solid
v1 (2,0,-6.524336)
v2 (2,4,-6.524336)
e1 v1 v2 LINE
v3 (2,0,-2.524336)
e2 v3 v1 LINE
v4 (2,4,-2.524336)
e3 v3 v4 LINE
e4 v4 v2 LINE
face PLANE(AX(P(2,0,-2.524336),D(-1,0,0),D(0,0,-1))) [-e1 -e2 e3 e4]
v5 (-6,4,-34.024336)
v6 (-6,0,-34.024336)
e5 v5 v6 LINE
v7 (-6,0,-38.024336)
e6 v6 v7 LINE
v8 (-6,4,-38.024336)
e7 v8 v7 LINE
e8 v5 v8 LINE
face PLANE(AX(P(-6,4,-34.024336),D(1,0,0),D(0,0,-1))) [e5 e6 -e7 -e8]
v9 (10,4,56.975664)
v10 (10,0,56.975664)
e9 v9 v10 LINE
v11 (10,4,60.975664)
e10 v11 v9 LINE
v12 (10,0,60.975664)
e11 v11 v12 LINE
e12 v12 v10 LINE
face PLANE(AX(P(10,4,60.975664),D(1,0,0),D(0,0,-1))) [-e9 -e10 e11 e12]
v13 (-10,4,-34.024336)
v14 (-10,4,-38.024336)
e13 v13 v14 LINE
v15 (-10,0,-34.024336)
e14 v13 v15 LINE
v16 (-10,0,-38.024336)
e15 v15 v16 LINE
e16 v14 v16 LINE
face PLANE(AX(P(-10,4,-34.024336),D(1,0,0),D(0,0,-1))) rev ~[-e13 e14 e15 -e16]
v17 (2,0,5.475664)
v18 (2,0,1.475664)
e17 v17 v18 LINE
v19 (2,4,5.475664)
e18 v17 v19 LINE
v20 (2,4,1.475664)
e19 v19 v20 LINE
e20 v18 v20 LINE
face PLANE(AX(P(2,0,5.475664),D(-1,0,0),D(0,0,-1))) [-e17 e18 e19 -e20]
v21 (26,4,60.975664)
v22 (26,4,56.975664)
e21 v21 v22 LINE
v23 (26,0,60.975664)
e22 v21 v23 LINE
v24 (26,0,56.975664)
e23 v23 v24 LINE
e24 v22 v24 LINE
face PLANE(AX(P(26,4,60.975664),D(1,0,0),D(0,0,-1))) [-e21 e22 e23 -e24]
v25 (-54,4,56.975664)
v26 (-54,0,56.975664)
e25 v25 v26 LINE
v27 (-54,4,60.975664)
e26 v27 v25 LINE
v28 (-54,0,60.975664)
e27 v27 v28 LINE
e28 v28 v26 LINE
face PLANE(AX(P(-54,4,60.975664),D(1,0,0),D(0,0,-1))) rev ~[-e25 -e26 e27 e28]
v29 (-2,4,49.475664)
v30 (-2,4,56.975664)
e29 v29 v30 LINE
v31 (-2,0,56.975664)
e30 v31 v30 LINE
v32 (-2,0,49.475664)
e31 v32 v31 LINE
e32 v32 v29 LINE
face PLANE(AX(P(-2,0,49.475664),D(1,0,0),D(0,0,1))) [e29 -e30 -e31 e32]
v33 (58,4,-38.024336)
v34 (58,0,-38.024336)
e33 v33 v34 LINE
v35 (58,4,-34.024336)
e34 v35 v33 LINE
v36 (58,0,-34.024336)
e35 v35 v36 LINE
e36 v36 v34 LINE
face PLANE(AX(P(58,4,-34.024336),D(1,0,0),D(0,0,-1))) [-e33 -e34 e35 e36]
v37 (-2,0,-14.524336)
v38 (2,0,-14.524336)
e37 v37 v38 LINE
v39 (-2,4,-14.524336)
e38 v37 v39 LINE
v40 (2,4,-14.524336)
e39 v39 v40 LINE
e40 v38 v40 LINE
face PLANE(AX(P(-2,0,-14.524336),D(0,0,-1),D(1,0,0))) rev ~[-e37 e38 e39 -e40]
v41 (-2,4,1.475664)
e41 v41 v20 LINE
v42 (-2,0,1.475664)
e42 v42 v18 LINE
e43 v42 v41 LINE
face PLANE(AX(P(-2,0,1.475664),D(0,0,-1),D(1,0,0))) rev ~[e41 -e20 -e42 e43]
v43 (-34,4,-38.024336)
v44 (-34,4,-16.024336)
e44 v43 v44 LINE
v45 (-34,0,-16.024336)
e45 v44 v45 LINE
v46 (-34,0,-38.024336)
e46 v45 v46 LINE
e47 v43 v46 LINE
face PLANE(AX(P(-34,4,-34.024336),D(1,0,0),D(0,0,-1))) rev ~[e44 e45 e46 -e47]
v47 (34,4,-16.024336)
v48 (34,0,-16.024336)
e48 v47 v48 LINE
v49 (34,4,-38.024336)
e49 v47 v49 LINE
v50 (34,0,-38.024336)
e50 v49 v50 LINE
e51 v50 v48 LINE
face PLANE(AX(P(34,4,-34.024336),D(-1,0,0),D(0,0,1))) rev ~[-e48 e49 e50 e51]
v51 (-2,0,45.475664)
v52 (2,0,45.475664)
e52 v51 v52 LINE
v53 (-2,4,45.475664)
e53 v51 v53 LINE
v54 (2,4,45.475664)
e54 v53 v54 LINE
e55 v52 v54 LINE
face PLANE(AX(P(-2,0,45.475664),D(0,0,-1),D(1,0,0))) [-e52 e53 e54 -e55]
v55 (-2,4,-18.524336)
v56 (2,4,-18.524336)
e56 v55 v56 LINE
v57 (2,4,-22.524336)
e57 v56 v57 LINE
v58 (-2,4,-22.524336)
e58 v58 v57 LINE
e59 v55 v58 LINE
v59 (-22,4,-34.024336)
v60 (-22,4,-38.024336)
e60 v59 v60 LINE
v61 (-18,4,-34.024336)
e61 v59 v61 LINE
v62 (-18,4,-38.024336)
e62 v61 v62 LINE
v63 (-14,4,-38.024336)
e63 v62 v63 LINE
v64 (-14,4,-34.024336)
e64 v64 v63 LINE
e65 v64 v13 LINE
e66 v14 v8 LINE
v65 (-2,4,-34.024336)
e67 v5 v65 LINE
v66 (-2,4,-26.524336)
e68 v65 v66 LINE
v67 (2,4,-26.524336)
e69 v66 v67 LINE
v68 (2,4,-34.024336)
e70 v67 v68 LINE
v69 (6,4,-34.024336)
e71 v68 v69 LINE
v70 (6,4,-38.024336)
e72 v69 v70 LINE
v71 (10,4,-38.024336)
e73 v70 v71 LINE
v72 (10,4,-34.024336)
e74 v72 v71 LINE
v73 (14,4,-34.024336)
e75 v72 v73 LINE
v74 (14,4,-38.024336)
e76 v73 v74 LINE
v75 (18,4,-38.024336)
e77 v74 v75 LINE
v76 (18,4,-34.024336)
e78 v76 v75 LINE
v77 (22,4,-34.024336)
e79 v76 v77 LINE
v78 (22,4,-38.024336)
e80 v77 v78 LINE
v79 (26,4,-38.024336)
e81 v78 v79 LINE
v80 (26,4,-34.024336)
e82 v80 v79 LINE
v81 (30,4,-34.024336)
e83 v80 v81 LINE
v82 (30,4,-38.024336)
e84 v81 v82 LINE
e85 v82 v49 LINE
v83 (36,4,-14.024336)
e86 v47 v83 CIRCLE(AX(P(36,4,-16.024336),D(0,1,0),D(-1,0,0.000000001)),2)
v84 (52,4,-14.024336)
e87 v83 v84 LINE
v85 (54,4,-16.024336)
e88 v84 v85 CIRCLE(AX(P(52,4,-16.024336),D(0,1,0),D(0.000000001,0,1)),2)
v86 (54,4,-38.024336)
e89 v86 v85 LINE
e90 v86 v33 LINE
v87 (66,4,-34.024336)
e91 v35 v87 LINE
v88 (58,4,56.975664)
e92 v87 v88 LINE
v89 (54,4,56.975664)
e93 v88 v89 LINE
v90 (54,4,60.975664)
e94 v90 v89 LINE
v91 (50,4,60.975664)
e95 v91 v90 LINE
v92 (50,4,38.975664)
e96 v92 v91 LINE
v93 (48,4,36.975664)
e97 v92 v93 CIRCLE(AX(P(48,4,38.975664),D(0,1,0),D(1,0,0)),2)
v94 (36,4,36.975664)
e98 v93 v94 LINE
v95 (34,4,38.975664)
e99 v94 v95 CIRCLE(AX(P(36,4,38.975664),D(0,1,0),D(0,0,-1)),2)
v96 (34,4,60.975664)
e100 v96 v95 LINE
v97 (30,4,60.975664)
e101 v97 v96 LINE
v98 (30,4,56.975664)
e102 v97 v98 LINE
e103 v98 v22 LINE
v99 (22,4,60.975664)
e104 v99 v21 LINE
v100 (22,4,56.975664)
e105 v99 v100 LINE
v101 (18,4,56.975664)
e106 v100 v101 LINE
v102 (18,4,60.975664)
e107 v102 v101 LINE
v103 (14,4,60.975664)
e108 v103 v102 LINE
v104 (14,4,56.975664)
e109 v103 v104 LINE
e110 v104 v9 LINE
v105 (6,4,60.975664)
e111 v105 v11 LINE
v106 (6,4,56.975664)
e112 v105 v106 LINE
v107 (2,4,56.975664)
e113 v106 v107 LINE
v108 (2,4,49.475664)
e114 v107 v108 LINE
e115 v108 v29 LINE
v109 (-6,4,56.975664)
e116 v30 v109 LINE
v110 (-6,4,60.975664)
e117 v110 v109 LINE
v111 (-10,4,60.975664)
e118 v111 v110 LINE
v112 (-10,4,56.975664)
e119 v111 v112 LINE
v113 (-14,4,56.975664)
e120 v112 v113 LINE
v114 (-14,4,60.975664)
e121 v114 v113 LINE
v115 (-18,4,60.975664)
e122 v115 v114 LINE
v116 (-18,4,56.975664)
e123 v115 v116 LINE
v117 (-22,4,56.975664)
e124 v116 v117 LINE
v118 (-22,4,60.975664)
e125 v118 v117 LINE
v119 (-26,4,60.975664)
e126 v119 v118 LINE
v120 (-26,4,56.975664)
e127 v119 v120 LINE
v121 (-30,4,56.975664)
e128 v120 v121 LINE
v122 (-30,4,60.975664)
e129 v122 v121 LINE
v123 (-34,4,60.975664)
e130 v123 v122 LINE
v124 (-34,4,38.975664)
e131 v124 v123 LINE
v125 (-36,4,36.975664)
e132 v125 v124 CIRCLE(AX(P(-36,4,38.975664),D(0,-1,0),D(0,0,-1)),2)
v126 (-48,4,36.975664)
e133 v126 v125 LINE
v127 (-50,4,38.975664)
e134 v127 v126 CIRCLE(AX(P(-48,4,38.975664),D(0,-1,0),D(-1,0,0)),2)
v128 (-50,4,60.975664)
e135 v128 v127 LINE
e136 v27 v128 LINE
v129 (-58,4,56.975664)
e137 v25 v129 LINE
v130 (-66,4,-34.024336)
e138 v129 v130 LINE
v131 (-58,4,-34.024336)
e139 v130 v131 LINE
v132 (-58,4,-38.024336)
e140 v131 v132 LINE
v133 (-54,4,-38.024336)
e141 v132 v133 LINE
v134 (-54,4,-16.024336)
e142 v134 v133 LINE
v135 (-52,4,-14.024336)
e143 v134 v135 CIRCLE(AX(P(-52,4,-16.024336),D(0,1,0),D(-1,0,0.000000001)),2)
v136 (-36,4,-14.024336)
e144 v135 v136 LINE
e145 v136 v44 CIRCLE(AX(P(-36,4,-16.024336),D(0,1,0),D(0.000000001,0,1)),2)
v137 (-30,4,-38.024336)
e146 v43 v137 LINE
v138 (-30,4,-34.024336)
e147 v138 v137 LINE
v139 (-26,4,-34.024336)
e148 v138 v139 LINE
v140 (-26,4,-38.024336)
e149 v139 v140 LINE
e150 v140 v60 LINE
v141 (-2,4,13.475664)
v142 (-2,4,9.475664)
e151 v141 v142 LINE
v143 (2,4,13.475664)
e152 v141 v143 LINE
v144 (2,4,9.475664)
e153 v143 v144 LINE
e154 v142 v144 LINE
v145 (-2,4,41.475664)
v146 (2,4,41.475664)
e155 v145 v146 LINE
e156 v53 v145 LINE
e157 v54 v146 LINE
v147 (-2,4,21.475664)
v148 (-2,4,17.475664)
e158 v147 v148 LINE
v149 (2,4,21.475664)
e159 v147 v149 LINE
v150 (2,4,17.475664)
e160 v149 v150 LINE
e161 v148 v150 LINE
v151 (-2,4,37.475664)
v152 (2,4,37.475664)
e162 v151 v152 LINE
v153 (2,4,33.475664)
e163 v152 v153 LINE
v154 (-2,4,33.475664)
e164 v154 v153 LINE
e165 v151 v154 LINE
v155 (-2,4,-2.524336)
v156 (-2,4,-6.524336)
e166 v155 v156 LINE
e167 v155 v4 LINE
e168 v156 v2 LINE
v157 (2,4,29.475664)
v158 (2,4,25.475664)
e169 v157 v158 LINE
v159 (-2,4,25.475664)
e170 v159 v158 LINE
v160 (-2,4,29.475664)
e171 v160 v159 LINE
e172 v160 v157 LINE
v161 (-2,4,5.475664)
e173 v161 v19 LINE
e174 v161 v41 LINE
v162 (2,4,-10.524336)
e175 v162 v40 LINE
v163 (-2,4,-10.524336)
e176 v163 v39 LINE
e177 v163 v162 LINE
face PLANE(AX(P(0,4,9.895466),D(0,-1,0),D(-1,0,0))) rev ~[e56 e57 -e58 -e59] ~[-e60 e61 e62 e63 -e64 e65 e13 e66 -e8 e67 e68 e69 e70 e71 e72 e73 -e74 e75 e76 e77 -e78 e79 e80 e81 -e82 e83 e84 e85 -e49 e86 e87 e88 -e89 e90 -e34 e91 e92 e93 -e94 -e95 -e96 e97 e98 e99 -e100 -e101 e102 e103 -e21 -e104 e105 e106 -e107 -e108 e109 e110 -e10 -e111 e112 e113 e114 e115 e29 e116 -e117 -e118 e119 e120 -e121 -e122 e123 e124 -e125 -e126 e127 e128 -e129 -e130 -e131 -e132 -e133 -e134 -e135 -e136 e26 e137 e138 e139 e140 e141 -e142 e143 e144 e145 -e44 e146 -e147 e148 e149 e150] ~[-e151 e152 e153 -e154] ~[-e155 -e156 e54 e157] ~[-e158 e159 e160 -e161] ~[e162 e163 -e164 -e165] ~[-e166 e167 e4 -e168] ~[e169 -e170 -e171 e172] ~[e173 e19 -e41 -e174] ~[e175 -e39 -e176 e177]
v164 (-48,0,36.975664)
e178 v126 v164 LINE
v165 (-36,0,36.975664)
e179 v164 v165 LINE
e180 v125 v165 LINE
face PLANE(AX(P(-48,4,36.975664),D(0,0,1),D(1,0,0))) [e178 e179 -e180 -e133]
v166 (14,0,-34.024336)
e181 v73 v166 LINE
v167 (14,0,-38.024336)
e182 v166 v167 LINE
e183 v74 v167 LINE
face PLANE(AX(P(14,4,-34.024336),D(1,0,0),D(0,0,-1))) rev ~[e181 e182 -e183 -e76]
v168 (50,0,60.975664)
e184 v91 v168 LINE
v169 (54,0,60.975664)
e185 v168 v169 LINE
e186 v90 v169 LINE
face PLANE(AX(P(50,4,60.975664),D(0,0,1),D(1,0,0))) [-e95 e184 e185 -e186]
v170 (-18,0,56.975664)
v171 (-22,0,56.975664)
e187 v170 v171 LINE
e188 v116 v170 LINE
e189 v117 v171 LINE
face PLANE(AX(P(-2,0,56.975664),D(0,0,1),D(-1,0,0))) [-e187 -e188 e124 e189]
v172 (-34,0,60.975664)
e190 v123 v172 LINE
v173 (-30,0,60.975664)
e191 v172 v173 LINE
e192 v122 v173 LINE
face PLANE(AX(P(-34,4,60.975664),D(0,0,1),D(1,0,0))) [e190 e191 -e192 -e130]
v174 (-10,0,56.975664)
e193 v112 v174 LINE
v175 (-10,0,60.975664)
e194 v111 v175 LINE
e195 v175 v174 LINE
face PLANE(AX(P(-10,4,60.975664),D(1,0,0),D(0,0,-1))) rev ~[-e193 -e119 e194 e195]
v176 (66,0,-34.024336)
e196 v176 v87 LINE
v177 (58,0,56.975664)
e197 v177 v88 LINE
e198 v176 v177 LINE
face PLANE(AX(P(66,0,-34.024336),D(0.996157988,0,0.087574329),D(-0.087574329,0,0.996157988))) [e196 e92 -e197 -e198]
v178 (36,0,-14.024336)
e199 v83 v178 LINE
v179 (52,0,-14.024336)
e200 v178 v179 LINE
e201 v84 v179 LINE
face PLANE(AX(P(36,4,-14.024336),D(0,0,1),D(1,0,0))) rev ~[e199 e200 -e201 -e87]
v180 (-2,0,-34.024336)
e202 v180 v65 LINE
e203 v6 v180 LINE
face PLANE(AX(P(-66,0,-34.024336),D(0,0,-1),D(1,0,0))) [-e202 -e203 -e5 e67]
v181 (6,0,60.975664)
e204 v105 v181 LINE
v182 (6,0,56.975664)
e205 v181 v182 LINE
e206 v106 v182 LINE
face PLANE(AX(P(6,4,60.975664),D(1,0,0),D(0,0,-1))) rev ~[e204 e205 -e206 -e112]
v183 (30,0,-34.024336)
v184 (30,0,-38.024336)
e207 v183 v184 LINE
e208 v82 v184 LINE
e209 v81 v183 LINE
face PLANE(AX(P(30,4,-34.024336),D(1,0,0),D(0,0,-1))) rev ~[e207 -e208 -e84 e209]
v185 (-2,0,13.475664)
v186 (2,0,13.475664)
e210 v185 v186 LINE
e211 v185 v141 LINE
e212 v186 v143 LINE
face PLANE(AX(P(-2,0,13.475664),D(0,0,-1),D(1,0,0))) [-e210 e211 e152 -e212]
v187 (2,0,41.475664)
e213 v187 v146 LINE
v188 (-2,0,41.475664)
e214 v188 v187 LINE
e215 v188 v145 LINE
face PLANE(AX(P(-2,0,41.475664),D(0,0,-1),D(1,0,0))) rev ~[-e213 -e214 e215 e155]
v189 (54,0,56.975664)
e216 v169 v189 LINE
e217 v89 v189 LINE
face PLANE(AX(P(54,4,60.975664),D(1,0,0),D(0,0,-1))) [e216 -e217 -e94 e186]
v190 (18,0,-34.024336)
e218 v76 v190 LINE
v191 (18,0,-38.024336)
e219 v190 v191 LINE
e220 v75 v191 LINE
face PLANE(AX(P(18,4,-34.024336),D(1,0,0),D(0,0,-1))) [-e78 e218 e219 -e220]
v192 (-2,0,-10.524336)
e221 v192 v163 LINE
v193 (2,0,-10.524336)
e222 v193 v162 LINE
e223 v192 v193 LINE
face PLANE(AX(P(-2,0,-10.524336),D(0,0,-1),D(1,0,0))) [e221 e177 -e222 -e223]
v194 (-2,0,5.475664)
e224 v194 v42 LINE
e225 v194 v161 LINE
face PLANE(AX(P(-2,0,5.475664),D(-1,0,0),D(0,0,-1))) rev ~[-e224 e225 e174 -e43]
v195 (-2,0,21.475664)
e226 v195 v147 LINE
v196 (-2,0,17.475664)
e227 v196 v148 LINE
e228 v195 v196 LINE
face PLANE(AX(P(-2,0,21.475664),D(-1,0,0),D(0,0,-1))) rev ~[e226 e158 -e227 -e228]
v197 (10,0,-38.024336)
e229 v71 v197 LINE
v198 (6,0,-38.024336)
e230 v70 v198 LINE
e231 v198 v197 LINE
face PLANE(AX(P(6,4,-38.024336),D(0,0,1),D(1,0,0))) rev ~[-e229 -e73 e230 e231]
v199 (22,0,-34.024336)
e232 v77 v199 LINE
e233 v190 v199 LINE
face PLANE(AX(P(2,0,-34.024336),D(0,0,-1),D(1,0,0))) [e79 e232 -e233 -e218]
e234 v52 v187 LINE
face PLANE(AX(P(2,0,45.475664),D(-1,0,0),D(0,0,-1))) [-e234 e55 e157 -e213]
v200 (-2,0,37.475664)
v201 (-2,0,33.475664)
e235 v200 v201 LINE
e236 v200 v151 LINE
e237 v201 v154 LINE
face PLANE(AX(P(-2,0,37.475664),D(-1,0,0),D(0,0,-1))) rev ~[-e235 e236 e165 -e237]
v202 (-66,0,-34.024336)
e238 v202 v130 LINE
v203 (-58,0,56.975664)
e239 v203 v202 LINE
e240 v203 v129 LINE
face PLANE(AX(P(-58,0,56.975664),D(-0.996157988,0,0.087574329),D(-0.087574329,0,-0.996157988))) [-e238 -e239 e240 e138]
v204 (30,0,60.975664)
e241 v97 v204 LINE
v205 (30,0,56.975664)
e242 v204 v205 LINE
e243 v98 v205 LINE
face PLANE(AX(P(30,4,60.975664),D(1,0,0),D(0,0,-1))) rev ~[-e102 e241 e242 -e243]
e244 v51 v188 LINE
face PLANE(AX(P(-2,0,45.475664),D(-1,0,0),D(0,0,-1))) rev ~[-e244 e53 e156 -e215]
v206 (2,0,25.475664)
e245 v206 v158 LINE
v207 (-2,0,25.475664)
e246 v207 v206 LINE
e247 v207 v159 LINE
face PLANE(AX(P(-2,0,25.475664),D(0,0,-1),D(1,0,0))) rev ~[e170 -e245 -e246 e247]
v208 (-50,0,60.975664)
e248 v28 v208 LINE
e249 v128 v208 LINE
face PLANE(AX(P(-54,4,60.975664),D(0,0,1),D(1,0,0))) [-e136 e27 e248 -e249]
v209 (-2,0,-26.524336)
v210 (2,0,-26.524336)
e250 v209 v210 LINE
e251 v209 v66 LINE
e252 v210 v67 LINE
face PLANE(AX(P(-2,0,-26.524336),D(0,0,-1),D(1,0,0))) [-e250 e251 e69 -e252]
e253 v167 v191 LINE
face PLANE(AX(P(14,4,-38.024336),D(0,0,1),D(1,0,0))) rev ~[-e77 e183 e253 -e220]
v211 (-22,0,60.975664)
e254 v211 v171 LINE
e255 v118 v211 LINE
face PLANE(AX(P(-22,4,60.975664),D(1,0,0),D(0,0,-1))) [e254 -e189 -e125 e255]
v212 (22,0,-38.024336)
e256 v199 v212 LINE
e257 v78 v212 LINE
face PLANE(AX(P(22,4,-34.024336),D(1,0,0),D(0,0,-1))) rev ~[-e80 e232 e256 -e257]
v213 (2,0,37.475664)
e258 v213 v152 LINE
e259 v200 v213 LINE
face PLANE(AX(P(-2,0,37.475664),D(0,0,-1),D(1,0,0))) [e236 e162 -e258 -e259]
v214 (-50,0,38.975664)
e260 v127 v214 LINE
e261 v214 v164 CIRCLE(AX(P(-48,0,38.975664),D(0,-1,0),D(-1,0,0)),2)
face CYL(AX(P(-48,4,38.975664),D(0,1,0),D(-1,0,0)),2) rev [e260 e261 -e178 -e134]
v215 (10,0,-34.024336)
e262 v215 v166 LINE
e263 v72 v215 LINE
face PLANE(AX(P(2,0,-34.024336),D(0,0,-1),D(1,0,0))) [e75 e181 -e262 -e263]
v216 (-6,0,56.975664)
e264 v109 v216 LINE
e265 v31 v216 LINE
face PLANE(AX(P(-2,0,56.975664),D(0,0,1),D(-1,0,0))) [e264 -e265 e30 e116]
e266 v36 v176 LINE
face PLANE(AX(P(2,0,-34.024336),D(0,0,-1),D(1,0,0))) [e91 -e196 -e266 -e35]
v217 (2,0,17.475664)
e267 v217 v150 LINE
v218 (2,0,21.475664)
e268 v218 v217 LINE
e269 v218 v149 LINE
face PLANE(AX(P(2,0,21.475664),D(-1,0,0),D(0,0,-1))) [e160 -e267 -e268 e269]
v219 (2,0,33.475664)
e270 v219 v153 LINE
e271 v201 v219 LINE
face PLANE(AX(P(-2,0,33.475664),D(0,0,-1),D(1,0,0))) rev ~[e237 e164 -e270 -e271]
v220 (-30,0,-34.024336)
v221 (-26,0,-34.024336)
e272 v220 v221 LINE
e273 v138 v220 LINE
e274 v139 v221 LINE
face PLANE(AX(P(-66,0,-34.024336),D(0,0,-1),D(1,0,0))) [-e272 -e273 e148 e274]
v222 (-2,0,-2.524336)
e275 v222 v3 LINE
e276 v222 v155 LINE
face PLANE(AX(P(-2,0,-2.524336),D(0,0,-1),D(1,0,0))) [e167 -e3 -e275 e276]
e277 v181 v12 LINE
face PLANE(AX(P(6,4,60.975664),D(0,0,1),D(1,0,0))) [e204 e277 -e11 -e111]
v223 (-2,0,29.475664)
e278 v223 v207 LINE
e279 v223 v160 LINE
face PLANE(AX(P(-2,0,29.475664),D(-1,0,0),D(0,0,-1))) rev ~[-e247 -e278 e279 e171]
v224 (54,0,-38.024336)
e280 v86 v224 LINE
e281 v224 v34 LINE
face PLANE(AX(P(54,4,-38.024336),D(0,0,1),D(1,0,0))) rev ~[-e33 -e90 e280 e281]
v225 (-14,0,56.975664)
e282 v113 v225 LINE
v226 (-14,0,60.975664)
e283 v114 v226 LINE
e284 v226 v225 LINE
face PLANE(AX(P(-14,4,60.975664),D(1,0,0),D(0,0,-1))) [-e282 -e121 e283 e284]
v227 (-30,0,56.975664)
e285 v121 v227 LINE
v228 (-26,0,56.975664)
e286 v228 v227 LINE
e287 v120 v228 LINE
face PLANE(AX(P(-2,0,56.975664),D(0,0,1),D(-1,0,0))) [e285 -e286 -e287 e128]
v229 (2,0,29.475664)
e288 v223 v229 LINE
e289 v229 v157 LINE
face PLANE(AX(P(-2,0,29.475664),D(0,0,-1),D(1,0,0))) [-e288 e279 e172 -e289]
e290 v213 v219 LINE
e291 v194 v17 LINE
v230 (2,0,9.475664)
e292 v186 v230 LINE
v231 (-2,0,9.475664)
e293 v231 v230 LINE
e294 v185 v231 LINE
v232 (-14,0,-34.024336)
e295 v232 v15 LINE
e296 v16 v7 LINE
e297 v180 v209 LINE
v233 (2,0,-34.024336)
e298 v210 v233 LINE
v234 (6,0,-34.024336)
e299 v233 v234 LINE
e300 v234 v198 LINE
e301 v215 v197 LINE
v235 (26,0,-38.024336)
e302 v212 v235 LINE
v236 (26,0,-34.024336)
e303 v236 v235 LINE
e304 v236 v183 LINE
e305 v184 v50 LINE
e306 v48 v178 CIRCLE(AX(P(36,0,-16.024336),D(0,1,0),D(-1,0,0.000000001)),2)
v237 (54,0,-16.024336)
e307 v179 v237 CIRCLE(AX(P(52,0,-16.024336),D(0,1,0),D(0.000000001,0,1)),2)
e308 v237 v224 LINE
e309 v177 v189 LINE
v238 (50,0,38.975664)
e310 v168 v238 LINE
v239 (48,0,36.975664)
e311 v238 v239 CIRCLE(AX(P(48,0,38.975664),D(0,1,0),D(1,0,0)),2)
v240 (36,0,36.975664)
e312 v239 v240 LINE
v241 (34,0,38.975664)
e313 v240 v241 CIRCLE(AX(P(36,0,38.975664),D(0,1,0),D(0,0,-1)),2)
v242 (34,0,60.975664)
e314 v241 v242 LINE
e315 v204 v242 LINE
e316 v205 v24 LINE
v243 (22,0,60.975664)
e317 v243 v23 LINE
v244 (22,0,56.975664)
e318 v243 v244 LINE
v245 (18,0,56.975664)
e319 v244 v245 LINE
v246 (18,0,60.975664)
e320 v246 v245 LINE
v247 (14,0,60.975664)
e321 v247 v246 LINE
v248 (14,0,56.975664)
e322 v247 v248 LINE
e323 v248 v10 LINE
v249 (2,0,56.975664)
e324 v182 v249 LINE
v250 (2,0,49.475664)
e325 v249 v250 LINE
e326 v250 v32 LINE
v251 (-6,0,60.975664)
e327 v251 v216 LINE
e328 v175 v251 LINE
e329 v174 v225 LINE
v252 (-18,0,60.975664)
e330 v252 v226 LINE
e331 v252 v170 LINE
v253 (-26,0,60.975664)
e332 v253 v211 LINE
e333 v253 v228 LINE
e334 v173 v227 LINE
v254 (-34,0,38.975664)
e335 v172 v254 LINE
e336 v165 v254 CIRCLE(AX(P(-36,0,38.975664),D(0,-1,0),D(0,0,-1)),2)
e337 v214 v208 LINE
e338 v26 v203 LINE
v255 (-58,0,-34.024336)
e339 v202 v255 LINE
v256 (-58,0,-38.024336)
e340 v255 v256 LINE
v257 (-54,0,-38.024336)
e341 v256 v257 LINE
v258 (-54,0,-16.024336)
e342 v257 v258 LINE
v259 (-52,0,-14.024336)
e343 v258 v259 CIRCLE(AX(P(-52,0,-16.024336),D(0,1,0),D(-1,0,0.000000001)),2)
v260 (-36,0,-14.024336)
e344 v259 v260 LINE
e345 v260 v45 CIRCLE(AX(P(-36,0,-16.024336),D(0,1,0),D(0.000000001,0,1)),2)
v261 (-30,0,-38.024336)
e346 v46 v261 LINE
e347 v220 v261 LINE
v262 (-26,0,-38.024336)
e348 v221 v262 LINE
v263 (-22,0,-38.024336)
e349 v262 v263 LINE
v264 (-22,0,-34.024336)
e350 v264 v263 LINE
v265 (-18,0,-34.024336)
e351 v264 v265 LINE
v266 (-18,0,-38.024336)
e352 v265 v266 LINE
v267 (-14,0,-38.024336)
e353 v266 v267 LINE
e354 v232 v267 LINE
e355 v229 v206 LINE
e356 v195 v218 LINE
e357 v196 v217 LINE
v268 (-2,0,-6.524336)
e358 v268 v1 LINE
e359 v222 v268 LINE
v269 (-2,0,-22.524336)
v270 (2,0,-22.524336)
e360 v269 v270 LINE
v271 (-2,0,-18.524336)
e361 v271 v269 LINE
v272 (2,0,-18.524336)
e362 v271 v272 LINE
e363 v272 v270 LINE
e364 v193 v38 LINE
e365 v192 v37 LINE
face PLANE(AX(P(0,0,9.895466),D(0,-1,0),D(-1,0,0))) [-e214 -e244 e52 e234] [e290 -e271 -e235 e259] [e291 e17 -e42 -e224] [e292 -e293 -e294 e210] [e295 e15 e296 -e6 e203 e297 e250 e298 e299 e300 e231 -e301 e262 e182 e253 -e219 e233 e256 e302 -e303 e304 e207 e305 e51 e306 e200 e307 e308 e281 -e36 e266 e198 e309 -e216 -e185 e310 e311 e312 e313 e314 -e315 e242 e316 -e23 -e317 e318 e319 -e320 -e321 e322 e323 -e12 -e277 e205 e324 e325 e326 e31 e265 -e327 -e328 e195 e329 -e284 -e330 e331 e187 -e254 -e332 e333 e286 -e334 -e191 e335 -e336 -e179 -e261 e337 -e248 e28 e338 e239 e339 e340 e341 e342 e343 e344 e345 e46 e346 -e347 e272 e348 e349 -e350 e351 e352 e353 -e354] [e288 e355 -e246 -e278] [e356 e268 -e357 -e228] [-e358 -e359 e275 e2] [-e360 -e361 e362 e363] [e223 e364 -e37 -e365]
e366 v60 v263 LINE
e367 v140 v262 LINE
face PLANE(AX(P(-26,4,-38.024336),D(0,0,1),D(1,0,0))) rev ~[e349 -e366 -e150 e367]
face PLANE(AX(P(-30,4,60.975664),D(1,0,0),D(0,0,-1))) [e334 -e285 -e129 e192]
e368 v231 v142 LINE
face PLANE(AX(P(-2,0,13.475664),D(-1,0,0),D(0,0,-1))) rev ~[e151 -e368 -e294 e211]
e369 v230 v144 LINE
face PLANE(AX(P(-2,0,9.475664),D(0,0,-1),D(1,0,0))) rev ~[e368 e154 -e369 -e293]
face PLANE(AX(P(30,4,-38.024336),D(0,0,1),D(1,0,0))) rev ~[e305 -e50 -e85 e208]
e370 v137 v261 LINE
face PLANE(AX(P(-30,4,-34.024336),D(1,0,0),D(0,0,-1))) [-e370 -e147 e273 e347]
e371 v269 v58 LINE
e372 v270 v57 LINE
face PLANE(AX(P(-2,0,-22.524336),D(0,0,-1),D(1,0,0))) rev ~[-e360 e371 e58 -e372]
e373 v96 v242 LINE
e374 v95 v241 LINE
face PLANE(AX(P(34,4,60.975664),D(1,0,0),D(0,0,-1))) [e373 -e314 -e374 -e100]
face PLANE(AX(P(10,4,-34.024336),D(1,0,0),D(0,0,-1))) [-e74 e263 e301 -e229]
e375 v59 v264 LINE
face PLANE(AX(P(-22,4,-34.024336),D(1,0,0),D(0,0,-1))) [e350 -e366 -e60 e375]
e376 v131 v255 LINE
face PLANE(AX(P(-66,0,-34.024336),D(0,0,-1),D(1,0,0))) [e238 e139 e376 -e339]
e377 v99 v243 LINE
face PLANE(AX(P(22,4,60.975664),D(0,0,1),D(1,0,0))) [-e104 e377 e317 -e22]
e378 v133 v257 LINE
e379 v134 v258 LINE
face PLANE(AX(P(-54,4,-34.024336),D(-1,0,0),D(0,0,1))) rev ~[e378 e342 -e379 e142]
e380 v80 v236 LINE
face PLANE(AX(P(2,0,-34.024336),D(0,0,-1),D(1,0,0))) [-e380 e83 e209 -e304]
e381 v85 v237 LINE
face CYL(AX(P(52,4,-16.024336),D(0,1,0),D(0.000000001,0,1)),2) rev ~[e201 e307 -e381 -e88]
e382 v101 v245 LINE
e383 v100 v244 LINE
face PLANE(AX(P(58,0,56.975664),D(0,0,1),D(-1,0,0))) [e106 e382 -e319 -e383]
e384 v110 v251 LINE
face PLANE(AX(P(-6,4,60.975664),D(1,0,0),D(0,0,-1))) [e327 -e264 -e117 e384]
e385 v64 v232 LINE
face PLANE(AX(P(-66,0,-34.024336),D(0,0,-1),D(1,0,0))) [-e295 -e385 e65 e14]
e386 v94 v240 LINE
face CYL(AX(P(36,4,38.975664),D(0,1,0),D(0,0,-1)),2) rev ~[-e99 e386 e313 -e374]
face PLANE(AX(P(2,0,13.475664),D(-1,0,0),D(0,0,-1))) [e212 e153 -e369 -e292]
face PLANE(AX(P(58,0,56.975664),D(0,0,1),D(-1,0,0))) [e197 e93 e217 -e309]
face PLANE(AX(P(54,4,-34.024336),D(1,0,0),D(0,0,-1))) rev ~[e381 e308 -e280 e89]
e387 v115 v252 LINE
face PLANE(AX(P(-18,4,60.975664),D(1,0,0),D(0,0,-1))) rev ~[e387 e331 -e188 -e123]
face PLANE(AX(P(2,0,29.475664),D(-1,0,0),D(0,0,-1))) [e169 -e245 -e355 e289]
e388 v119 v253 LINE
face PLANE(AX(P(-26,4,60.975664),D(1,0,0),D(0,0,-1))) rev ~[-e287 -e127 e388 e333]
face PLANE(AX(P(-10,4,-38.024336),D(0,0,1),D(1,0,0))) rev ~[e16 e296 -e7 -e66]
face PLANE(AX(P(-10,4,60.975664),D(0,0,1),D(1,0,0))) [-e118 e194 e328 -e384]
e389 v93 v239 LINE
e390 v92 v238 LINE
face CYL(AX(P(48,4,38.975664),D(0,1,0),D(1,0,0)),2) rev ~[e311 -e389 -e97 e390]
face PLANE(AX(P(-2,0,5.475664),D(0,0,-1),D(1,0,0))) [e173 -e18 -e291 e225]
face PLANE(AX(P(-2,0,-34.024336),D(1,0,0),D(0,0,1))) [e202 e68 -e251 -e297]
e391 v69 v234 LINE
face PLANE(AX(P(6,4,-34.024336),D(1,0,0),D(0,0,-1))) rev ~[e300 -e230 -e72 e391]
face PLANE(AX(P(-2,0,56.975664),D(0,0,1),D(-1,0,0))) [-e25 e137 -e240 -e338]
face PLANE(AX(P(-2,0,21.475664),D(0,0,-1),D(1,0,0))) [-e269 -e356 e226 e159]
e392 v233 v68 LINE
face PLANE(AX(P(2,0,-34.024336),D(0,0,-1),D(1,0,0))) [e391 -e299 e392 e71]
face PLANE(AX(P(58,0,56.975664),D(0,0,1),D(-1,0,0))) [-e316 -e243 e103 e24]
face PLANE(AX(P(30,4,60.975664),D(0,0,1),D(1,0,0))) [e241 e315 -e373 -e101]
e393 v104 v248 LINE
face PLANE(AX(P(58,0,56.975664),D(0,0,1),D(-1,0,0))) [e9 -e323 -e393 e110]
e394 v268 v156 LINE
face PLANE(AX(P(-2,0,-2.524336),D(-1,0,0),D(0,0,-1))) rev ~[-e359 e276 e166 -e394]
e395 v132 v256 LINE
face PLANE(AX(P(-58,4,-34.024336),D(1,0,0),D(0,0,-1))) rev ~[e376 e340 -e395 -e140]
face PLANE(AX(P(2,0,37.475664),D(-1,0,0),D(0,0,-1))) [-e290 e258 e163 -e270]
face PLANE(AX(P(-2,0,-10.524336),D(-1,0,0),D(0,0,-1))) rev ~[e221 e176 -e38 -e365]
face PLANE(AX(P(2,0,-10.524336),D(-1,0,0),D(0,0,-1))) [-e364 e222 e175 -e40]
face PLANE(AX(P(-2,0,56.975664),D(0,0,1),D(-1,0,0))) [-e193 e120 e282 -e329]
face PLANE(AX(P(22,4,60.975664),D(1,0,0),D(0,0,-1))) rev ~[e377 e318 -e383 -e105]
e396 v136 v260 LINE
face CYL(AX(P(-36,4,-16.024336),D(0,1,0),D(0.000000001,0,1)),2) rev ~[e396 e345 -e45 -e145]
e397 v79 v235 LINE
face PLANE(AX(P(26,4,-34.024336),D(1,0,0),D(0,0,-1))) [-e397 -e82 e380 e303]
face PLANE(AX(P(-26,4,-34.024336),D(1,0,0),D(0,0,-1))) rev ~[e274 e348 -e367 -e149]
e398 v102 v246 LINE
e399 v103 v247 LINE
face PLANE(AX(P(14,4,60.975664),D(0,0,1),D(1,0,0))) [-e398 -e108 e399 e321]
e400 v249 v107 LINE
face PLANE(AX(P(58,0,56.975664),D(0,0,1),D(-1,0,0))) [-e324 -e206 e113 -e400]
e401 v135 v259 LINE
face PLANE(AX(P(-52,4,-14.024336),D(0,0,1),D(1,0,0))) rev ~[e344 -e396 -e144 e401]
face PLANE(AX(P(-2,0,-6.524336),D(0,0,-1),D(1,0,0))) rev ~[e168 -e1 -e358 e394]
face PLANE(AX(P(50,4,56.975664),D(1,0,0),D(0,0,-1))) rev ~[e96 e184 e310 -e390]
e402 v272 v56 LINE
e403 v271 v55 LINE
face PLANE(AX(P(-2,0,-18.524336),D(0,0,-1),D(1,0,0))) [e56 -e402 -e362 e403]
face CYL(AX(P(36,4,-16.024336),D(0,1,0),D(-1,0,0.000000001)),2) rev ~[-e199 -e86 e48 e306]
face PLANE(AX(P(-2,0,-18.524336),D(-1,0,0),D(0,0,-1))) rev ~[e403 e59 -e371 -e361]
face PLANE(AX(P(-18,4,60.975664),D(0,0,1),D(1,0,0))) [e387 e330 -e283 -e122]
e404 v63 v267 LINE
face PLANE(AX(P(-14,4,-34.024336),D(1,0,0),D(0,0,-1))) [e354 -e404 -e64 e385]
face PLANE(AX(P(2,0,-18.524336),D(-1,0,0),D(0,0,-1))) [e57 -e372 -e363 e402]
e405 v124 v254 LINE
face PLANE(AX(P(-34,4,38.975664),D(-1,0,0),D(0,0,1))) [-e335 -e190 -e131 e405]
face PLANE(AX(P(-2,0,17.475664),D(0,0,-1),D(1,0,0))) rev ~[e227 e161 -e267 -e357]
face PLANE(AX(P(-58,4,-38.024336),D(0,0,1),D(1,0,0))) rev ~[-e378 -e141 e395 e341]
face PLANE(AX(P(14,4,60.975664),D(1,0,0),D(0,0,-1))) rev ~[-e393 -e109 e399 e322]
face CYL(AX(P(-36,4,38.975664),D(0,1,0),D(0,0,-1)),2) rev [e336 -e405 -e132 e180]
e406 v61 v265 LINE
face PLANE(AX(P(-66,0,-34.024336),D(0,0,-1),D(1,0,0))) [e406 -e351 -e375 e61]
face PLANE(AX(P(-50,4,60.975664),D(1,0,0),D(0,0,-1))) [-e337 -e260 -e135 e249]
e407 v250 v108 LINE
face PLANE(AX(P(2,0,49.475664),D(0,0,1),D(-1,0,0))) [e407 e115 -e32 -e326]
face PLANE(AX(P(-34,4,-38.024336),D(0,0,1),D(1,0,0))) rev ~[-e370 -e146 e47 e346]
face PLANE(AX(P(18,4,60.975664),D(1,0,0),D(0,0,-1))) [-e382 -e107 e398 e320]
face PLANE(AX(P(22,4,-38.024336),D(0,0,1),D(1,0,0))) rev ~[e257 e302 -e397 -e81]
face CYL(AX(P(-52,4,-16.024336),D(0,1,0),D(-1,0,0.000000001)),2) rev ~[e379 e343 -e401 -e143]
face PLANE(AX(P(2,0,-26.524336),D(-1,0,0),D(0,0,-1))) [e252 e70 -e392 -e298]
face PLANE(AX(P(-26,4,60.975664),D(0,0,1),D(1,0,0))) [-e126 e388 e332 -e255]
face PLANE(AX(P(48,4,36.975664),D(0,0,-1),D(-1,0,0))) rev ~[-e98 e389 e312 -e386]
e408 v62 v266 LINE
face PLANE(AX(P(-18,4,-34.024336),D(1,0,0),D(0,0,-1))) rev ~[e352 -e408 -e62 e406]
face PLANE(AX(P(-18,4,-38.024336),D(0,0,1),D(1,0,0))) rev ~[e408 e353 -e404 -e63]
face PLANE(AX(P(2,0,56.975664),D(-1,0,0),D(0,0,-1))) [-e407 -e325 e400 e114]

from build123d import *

# Parameters (mm, degrees)
SKETCH1_W           = 4
SKETCH1_H           = 4
BOSS_EXTRUDE1_DEPTH = 4
SKETCH2_W           = 4
SKETCH2_H           = 4
BOSS_EXTRUDE2_DEPTH = 4
CUT_EXTRUDE2_DEPTH  = 4


with BuildPart() as part:
    # Sketch1 → Boss-Extrude1 (new body)
    with BuildSketch(Plane(origin=(0, 0, 0), x_dir=(1, 0, 0), z_dir=(0, 1, 0))):
        Polygon((-66, 34.024336283), (-2, 34.024336283), (-2, 26.524336283), (2, 26.524336283), (2, 34.024336283), (66, 34.024336283), (58, -56.975663717), (2, -56.975663717), (2, -49.475663717), (-2, -49.475663717), (-2, -56.975663717), (-58, -56.975663717), align=None)
        with Locations((0, -3.475663717)):
            Rectangle(SKETCH1_W, SKETCH1_H, mode=Mode.SUBTRACT)
        with Locations((0, -11.475663717)):
            Rectangle(SKETCH1_W, SKETCH1_H, mode=Mode.SUBTRACT)
        with Locations((0, 4.524336283)):
            Rectangle(SKETCH1_W, SKETCH1_H, mode=Mode.SUBTRACT)
        with Locations((0, 12.524336283)):
            Rectangle(SKETCH1_W, SKETCH1_H, mode=Mode.SUBTRACT)
        with Locations((0, 20.524336283)):
            Rectangle(SKETCH1_W, SKETCH1_H, mode=Mode.SUBTRACT)
        with Locations((0, -19.475663717)):
            Rectangle(SKETCH1_W, SKETCH1_H, mode=Mode.SUBTRACT)
        with Locations((0, -27.475663717)):
            Rectangle(SKETCH1_W, SKETCH1_H, mode=Mode.SUBTRACT)
        with Locations((0, -35.475663717)):
            Rectangle(SKETCH1_W, SKETCH1_H, mode=Mode.SUBTRACT)
        with Locations((0, -43.475663717)):
            Rectangle(SKETCH1_W, SKETCH1_H, mode=Mode.SUBTRACT)
    extrude(amount=BOSS_EXTRUDE1_DEPTH)

    # Sketch2 → Boss-Extrude2 (add)
    with BuildSketch(Plane(origin=(0, 4, 0), x_dir=(1, 0, 0), z_dir=(0, 1, 0))):
        with Locations((-8, 36.024336283)):
            Rectangle(SKETCH2_W, SKETCH2_H)
        with Locations((-16, 36.024336283)):
            Rectangle(SKETCH2_W, SKETCH2_H)
        with Locations((-24, 36.024336283)):
            Rectangle(SKETCH2_W, SKETCH2_H)
        with Locations((-32, 36.024336283)):
            Rectangle(SKETCH2_W, SKETCH2_H)
        with Locations((56, 36.024336283)):
            Rectangle(SKETCH2_W, SKETCH2_H)
        with Locations((32, 36.024336283)):
            Rectangle(SKETCH2_W, SKETCH2_H)
        with Locations((-56, 36.024336283)):
            Rectangle(SKETCH2_W, SKETCH2_H)
        with Locations((24, 36.024336283)):
            Rectangle(SKETCH2_W, SKETCH2_H)
        with Locations((16, 36.024336283)):
            Rectangle(SKETCH2_W, SKETCH2_H)
        with Locations((8, 36.024336283)):
            Rectangle(SKETCH2_W, SKETCH2_H)
        with Locations((8, -58.975663717)):
            Rectangle(SKETCH2_W, SKETCH2_H)
        with Locations((16, -58.975663717)):
            Rectangle(SKETCH2_W, SKETCH2_H)
        with Locations((24, -58.975663717)):
            Rectangle(SKETCH2_W, SKETCH2_H)
        with Locations((32, -58.975663717)):
            Rectangle(SKETCH2_W, SKETCH2_H)
        with Locations((-52, -58.975663717)):
            Rectangle(SKETCH2_W, SKETCH2_H)
        with Locations((52, -58.975663717)):
            Rectangle(SKETCH2_W, SKETCH2_H)
        with Locations((-32, -58.975663717)):
            Rectangle(SKETCH2_W, SKETCH2_H)
        with Locations((-24, -58.975663717)):
            Rectangle(SKETCH2_W, SKETCH2_H)
        with Locations((-16, -58.975663717)):
            Rectangle(SKETCH2_W, SKETCH2_H)
        with Locations((-8, -58.975663717)):
            Rectangle(SKETCH2_W, SKETCH2_H)
    extrude(amount=-BOSS_EXTRUDE2_DEPTH)

    # Sketch3 → Cut-Extrude2 (cut)
    with BuildSketch(Plane(origin=(0, 4, 0), x_dir=(1, 0, 0), z_dir=(0, 1, 0))):
        with BuildLine():
            Line((-54, 34.024336283), (-54, 16.024336283))
            ThreePointArc((-54, 16.024336283), (-53.414213562, 14.610122721), (-52, 14.024336283))
            Line((-52, 14.024336283), (-36, 14.024336283))
            ThreePointArc((-36, 14.024336283), (-34.585786438, 14.610122721), (-34, 16.024336283))
            Line((-34, 16.024336283), (-34, 34.024336283))
            Line((-34, 34.024336283), (-54, 34.024336283))
        make_face()
        with BuildLine():
            Line((54, 34.024336283), (34, 34.024336283))
            Line((34, 34.024336283), (34, 16.024336283))
            ThreePointArc((34, 16.024336283), (34.585786438, 14.610122721), (36, 14.024336283))
            Line((36, 14.024336283), (52, 14.024336283))
            ThreePointArc((52, 14.024336283), (53.414213562, 14.610122721), (54, 16.024336283))
            Line((54, 16.024336283), (54, 34.024336283))
        make_face()
        with BuildLine():
            Line((-34, -56.975663717), (-50, -56.975663717))
            Line((-50, -56.975663717), (-50, -38.975663717))
            ThreePointArc((-50, -38.975663717), (-49.414213562, -37.561450154), (-48, -36.975663717))
            Line((-48, -36.975663717), (-36, -36.975663717))
            ThreePointArc((-36, -36.975663717), (-34.585786438, -37.561450154), (-34, -38.975663717))
            Line((-34, -38.975663717), (-34, -56.975663717))
        make_face()
        with BuildLine():
            Line((34, -56.975663717), (50, -56.975663717))
            Line((50, -56.975663717), (50, -38.975663717))
            ThreePointArc((50, -38.975663717), (49.414213562, -37.561450154), (48, -36.975663717))
            Line((48, -36.975663717), (36, -36.975663717))
            ThreePointArc((36, -36.975663717), (34.585786438, -37.561450154), (34, -38.975663717))
            Line((34, -38.975663717), (34, -56.975663717))
        make_face()
    extrude(amount=-CUT_EXTRUDE2_DEPTH, mode=Mode.SUBTRACT)


solid = part.part
